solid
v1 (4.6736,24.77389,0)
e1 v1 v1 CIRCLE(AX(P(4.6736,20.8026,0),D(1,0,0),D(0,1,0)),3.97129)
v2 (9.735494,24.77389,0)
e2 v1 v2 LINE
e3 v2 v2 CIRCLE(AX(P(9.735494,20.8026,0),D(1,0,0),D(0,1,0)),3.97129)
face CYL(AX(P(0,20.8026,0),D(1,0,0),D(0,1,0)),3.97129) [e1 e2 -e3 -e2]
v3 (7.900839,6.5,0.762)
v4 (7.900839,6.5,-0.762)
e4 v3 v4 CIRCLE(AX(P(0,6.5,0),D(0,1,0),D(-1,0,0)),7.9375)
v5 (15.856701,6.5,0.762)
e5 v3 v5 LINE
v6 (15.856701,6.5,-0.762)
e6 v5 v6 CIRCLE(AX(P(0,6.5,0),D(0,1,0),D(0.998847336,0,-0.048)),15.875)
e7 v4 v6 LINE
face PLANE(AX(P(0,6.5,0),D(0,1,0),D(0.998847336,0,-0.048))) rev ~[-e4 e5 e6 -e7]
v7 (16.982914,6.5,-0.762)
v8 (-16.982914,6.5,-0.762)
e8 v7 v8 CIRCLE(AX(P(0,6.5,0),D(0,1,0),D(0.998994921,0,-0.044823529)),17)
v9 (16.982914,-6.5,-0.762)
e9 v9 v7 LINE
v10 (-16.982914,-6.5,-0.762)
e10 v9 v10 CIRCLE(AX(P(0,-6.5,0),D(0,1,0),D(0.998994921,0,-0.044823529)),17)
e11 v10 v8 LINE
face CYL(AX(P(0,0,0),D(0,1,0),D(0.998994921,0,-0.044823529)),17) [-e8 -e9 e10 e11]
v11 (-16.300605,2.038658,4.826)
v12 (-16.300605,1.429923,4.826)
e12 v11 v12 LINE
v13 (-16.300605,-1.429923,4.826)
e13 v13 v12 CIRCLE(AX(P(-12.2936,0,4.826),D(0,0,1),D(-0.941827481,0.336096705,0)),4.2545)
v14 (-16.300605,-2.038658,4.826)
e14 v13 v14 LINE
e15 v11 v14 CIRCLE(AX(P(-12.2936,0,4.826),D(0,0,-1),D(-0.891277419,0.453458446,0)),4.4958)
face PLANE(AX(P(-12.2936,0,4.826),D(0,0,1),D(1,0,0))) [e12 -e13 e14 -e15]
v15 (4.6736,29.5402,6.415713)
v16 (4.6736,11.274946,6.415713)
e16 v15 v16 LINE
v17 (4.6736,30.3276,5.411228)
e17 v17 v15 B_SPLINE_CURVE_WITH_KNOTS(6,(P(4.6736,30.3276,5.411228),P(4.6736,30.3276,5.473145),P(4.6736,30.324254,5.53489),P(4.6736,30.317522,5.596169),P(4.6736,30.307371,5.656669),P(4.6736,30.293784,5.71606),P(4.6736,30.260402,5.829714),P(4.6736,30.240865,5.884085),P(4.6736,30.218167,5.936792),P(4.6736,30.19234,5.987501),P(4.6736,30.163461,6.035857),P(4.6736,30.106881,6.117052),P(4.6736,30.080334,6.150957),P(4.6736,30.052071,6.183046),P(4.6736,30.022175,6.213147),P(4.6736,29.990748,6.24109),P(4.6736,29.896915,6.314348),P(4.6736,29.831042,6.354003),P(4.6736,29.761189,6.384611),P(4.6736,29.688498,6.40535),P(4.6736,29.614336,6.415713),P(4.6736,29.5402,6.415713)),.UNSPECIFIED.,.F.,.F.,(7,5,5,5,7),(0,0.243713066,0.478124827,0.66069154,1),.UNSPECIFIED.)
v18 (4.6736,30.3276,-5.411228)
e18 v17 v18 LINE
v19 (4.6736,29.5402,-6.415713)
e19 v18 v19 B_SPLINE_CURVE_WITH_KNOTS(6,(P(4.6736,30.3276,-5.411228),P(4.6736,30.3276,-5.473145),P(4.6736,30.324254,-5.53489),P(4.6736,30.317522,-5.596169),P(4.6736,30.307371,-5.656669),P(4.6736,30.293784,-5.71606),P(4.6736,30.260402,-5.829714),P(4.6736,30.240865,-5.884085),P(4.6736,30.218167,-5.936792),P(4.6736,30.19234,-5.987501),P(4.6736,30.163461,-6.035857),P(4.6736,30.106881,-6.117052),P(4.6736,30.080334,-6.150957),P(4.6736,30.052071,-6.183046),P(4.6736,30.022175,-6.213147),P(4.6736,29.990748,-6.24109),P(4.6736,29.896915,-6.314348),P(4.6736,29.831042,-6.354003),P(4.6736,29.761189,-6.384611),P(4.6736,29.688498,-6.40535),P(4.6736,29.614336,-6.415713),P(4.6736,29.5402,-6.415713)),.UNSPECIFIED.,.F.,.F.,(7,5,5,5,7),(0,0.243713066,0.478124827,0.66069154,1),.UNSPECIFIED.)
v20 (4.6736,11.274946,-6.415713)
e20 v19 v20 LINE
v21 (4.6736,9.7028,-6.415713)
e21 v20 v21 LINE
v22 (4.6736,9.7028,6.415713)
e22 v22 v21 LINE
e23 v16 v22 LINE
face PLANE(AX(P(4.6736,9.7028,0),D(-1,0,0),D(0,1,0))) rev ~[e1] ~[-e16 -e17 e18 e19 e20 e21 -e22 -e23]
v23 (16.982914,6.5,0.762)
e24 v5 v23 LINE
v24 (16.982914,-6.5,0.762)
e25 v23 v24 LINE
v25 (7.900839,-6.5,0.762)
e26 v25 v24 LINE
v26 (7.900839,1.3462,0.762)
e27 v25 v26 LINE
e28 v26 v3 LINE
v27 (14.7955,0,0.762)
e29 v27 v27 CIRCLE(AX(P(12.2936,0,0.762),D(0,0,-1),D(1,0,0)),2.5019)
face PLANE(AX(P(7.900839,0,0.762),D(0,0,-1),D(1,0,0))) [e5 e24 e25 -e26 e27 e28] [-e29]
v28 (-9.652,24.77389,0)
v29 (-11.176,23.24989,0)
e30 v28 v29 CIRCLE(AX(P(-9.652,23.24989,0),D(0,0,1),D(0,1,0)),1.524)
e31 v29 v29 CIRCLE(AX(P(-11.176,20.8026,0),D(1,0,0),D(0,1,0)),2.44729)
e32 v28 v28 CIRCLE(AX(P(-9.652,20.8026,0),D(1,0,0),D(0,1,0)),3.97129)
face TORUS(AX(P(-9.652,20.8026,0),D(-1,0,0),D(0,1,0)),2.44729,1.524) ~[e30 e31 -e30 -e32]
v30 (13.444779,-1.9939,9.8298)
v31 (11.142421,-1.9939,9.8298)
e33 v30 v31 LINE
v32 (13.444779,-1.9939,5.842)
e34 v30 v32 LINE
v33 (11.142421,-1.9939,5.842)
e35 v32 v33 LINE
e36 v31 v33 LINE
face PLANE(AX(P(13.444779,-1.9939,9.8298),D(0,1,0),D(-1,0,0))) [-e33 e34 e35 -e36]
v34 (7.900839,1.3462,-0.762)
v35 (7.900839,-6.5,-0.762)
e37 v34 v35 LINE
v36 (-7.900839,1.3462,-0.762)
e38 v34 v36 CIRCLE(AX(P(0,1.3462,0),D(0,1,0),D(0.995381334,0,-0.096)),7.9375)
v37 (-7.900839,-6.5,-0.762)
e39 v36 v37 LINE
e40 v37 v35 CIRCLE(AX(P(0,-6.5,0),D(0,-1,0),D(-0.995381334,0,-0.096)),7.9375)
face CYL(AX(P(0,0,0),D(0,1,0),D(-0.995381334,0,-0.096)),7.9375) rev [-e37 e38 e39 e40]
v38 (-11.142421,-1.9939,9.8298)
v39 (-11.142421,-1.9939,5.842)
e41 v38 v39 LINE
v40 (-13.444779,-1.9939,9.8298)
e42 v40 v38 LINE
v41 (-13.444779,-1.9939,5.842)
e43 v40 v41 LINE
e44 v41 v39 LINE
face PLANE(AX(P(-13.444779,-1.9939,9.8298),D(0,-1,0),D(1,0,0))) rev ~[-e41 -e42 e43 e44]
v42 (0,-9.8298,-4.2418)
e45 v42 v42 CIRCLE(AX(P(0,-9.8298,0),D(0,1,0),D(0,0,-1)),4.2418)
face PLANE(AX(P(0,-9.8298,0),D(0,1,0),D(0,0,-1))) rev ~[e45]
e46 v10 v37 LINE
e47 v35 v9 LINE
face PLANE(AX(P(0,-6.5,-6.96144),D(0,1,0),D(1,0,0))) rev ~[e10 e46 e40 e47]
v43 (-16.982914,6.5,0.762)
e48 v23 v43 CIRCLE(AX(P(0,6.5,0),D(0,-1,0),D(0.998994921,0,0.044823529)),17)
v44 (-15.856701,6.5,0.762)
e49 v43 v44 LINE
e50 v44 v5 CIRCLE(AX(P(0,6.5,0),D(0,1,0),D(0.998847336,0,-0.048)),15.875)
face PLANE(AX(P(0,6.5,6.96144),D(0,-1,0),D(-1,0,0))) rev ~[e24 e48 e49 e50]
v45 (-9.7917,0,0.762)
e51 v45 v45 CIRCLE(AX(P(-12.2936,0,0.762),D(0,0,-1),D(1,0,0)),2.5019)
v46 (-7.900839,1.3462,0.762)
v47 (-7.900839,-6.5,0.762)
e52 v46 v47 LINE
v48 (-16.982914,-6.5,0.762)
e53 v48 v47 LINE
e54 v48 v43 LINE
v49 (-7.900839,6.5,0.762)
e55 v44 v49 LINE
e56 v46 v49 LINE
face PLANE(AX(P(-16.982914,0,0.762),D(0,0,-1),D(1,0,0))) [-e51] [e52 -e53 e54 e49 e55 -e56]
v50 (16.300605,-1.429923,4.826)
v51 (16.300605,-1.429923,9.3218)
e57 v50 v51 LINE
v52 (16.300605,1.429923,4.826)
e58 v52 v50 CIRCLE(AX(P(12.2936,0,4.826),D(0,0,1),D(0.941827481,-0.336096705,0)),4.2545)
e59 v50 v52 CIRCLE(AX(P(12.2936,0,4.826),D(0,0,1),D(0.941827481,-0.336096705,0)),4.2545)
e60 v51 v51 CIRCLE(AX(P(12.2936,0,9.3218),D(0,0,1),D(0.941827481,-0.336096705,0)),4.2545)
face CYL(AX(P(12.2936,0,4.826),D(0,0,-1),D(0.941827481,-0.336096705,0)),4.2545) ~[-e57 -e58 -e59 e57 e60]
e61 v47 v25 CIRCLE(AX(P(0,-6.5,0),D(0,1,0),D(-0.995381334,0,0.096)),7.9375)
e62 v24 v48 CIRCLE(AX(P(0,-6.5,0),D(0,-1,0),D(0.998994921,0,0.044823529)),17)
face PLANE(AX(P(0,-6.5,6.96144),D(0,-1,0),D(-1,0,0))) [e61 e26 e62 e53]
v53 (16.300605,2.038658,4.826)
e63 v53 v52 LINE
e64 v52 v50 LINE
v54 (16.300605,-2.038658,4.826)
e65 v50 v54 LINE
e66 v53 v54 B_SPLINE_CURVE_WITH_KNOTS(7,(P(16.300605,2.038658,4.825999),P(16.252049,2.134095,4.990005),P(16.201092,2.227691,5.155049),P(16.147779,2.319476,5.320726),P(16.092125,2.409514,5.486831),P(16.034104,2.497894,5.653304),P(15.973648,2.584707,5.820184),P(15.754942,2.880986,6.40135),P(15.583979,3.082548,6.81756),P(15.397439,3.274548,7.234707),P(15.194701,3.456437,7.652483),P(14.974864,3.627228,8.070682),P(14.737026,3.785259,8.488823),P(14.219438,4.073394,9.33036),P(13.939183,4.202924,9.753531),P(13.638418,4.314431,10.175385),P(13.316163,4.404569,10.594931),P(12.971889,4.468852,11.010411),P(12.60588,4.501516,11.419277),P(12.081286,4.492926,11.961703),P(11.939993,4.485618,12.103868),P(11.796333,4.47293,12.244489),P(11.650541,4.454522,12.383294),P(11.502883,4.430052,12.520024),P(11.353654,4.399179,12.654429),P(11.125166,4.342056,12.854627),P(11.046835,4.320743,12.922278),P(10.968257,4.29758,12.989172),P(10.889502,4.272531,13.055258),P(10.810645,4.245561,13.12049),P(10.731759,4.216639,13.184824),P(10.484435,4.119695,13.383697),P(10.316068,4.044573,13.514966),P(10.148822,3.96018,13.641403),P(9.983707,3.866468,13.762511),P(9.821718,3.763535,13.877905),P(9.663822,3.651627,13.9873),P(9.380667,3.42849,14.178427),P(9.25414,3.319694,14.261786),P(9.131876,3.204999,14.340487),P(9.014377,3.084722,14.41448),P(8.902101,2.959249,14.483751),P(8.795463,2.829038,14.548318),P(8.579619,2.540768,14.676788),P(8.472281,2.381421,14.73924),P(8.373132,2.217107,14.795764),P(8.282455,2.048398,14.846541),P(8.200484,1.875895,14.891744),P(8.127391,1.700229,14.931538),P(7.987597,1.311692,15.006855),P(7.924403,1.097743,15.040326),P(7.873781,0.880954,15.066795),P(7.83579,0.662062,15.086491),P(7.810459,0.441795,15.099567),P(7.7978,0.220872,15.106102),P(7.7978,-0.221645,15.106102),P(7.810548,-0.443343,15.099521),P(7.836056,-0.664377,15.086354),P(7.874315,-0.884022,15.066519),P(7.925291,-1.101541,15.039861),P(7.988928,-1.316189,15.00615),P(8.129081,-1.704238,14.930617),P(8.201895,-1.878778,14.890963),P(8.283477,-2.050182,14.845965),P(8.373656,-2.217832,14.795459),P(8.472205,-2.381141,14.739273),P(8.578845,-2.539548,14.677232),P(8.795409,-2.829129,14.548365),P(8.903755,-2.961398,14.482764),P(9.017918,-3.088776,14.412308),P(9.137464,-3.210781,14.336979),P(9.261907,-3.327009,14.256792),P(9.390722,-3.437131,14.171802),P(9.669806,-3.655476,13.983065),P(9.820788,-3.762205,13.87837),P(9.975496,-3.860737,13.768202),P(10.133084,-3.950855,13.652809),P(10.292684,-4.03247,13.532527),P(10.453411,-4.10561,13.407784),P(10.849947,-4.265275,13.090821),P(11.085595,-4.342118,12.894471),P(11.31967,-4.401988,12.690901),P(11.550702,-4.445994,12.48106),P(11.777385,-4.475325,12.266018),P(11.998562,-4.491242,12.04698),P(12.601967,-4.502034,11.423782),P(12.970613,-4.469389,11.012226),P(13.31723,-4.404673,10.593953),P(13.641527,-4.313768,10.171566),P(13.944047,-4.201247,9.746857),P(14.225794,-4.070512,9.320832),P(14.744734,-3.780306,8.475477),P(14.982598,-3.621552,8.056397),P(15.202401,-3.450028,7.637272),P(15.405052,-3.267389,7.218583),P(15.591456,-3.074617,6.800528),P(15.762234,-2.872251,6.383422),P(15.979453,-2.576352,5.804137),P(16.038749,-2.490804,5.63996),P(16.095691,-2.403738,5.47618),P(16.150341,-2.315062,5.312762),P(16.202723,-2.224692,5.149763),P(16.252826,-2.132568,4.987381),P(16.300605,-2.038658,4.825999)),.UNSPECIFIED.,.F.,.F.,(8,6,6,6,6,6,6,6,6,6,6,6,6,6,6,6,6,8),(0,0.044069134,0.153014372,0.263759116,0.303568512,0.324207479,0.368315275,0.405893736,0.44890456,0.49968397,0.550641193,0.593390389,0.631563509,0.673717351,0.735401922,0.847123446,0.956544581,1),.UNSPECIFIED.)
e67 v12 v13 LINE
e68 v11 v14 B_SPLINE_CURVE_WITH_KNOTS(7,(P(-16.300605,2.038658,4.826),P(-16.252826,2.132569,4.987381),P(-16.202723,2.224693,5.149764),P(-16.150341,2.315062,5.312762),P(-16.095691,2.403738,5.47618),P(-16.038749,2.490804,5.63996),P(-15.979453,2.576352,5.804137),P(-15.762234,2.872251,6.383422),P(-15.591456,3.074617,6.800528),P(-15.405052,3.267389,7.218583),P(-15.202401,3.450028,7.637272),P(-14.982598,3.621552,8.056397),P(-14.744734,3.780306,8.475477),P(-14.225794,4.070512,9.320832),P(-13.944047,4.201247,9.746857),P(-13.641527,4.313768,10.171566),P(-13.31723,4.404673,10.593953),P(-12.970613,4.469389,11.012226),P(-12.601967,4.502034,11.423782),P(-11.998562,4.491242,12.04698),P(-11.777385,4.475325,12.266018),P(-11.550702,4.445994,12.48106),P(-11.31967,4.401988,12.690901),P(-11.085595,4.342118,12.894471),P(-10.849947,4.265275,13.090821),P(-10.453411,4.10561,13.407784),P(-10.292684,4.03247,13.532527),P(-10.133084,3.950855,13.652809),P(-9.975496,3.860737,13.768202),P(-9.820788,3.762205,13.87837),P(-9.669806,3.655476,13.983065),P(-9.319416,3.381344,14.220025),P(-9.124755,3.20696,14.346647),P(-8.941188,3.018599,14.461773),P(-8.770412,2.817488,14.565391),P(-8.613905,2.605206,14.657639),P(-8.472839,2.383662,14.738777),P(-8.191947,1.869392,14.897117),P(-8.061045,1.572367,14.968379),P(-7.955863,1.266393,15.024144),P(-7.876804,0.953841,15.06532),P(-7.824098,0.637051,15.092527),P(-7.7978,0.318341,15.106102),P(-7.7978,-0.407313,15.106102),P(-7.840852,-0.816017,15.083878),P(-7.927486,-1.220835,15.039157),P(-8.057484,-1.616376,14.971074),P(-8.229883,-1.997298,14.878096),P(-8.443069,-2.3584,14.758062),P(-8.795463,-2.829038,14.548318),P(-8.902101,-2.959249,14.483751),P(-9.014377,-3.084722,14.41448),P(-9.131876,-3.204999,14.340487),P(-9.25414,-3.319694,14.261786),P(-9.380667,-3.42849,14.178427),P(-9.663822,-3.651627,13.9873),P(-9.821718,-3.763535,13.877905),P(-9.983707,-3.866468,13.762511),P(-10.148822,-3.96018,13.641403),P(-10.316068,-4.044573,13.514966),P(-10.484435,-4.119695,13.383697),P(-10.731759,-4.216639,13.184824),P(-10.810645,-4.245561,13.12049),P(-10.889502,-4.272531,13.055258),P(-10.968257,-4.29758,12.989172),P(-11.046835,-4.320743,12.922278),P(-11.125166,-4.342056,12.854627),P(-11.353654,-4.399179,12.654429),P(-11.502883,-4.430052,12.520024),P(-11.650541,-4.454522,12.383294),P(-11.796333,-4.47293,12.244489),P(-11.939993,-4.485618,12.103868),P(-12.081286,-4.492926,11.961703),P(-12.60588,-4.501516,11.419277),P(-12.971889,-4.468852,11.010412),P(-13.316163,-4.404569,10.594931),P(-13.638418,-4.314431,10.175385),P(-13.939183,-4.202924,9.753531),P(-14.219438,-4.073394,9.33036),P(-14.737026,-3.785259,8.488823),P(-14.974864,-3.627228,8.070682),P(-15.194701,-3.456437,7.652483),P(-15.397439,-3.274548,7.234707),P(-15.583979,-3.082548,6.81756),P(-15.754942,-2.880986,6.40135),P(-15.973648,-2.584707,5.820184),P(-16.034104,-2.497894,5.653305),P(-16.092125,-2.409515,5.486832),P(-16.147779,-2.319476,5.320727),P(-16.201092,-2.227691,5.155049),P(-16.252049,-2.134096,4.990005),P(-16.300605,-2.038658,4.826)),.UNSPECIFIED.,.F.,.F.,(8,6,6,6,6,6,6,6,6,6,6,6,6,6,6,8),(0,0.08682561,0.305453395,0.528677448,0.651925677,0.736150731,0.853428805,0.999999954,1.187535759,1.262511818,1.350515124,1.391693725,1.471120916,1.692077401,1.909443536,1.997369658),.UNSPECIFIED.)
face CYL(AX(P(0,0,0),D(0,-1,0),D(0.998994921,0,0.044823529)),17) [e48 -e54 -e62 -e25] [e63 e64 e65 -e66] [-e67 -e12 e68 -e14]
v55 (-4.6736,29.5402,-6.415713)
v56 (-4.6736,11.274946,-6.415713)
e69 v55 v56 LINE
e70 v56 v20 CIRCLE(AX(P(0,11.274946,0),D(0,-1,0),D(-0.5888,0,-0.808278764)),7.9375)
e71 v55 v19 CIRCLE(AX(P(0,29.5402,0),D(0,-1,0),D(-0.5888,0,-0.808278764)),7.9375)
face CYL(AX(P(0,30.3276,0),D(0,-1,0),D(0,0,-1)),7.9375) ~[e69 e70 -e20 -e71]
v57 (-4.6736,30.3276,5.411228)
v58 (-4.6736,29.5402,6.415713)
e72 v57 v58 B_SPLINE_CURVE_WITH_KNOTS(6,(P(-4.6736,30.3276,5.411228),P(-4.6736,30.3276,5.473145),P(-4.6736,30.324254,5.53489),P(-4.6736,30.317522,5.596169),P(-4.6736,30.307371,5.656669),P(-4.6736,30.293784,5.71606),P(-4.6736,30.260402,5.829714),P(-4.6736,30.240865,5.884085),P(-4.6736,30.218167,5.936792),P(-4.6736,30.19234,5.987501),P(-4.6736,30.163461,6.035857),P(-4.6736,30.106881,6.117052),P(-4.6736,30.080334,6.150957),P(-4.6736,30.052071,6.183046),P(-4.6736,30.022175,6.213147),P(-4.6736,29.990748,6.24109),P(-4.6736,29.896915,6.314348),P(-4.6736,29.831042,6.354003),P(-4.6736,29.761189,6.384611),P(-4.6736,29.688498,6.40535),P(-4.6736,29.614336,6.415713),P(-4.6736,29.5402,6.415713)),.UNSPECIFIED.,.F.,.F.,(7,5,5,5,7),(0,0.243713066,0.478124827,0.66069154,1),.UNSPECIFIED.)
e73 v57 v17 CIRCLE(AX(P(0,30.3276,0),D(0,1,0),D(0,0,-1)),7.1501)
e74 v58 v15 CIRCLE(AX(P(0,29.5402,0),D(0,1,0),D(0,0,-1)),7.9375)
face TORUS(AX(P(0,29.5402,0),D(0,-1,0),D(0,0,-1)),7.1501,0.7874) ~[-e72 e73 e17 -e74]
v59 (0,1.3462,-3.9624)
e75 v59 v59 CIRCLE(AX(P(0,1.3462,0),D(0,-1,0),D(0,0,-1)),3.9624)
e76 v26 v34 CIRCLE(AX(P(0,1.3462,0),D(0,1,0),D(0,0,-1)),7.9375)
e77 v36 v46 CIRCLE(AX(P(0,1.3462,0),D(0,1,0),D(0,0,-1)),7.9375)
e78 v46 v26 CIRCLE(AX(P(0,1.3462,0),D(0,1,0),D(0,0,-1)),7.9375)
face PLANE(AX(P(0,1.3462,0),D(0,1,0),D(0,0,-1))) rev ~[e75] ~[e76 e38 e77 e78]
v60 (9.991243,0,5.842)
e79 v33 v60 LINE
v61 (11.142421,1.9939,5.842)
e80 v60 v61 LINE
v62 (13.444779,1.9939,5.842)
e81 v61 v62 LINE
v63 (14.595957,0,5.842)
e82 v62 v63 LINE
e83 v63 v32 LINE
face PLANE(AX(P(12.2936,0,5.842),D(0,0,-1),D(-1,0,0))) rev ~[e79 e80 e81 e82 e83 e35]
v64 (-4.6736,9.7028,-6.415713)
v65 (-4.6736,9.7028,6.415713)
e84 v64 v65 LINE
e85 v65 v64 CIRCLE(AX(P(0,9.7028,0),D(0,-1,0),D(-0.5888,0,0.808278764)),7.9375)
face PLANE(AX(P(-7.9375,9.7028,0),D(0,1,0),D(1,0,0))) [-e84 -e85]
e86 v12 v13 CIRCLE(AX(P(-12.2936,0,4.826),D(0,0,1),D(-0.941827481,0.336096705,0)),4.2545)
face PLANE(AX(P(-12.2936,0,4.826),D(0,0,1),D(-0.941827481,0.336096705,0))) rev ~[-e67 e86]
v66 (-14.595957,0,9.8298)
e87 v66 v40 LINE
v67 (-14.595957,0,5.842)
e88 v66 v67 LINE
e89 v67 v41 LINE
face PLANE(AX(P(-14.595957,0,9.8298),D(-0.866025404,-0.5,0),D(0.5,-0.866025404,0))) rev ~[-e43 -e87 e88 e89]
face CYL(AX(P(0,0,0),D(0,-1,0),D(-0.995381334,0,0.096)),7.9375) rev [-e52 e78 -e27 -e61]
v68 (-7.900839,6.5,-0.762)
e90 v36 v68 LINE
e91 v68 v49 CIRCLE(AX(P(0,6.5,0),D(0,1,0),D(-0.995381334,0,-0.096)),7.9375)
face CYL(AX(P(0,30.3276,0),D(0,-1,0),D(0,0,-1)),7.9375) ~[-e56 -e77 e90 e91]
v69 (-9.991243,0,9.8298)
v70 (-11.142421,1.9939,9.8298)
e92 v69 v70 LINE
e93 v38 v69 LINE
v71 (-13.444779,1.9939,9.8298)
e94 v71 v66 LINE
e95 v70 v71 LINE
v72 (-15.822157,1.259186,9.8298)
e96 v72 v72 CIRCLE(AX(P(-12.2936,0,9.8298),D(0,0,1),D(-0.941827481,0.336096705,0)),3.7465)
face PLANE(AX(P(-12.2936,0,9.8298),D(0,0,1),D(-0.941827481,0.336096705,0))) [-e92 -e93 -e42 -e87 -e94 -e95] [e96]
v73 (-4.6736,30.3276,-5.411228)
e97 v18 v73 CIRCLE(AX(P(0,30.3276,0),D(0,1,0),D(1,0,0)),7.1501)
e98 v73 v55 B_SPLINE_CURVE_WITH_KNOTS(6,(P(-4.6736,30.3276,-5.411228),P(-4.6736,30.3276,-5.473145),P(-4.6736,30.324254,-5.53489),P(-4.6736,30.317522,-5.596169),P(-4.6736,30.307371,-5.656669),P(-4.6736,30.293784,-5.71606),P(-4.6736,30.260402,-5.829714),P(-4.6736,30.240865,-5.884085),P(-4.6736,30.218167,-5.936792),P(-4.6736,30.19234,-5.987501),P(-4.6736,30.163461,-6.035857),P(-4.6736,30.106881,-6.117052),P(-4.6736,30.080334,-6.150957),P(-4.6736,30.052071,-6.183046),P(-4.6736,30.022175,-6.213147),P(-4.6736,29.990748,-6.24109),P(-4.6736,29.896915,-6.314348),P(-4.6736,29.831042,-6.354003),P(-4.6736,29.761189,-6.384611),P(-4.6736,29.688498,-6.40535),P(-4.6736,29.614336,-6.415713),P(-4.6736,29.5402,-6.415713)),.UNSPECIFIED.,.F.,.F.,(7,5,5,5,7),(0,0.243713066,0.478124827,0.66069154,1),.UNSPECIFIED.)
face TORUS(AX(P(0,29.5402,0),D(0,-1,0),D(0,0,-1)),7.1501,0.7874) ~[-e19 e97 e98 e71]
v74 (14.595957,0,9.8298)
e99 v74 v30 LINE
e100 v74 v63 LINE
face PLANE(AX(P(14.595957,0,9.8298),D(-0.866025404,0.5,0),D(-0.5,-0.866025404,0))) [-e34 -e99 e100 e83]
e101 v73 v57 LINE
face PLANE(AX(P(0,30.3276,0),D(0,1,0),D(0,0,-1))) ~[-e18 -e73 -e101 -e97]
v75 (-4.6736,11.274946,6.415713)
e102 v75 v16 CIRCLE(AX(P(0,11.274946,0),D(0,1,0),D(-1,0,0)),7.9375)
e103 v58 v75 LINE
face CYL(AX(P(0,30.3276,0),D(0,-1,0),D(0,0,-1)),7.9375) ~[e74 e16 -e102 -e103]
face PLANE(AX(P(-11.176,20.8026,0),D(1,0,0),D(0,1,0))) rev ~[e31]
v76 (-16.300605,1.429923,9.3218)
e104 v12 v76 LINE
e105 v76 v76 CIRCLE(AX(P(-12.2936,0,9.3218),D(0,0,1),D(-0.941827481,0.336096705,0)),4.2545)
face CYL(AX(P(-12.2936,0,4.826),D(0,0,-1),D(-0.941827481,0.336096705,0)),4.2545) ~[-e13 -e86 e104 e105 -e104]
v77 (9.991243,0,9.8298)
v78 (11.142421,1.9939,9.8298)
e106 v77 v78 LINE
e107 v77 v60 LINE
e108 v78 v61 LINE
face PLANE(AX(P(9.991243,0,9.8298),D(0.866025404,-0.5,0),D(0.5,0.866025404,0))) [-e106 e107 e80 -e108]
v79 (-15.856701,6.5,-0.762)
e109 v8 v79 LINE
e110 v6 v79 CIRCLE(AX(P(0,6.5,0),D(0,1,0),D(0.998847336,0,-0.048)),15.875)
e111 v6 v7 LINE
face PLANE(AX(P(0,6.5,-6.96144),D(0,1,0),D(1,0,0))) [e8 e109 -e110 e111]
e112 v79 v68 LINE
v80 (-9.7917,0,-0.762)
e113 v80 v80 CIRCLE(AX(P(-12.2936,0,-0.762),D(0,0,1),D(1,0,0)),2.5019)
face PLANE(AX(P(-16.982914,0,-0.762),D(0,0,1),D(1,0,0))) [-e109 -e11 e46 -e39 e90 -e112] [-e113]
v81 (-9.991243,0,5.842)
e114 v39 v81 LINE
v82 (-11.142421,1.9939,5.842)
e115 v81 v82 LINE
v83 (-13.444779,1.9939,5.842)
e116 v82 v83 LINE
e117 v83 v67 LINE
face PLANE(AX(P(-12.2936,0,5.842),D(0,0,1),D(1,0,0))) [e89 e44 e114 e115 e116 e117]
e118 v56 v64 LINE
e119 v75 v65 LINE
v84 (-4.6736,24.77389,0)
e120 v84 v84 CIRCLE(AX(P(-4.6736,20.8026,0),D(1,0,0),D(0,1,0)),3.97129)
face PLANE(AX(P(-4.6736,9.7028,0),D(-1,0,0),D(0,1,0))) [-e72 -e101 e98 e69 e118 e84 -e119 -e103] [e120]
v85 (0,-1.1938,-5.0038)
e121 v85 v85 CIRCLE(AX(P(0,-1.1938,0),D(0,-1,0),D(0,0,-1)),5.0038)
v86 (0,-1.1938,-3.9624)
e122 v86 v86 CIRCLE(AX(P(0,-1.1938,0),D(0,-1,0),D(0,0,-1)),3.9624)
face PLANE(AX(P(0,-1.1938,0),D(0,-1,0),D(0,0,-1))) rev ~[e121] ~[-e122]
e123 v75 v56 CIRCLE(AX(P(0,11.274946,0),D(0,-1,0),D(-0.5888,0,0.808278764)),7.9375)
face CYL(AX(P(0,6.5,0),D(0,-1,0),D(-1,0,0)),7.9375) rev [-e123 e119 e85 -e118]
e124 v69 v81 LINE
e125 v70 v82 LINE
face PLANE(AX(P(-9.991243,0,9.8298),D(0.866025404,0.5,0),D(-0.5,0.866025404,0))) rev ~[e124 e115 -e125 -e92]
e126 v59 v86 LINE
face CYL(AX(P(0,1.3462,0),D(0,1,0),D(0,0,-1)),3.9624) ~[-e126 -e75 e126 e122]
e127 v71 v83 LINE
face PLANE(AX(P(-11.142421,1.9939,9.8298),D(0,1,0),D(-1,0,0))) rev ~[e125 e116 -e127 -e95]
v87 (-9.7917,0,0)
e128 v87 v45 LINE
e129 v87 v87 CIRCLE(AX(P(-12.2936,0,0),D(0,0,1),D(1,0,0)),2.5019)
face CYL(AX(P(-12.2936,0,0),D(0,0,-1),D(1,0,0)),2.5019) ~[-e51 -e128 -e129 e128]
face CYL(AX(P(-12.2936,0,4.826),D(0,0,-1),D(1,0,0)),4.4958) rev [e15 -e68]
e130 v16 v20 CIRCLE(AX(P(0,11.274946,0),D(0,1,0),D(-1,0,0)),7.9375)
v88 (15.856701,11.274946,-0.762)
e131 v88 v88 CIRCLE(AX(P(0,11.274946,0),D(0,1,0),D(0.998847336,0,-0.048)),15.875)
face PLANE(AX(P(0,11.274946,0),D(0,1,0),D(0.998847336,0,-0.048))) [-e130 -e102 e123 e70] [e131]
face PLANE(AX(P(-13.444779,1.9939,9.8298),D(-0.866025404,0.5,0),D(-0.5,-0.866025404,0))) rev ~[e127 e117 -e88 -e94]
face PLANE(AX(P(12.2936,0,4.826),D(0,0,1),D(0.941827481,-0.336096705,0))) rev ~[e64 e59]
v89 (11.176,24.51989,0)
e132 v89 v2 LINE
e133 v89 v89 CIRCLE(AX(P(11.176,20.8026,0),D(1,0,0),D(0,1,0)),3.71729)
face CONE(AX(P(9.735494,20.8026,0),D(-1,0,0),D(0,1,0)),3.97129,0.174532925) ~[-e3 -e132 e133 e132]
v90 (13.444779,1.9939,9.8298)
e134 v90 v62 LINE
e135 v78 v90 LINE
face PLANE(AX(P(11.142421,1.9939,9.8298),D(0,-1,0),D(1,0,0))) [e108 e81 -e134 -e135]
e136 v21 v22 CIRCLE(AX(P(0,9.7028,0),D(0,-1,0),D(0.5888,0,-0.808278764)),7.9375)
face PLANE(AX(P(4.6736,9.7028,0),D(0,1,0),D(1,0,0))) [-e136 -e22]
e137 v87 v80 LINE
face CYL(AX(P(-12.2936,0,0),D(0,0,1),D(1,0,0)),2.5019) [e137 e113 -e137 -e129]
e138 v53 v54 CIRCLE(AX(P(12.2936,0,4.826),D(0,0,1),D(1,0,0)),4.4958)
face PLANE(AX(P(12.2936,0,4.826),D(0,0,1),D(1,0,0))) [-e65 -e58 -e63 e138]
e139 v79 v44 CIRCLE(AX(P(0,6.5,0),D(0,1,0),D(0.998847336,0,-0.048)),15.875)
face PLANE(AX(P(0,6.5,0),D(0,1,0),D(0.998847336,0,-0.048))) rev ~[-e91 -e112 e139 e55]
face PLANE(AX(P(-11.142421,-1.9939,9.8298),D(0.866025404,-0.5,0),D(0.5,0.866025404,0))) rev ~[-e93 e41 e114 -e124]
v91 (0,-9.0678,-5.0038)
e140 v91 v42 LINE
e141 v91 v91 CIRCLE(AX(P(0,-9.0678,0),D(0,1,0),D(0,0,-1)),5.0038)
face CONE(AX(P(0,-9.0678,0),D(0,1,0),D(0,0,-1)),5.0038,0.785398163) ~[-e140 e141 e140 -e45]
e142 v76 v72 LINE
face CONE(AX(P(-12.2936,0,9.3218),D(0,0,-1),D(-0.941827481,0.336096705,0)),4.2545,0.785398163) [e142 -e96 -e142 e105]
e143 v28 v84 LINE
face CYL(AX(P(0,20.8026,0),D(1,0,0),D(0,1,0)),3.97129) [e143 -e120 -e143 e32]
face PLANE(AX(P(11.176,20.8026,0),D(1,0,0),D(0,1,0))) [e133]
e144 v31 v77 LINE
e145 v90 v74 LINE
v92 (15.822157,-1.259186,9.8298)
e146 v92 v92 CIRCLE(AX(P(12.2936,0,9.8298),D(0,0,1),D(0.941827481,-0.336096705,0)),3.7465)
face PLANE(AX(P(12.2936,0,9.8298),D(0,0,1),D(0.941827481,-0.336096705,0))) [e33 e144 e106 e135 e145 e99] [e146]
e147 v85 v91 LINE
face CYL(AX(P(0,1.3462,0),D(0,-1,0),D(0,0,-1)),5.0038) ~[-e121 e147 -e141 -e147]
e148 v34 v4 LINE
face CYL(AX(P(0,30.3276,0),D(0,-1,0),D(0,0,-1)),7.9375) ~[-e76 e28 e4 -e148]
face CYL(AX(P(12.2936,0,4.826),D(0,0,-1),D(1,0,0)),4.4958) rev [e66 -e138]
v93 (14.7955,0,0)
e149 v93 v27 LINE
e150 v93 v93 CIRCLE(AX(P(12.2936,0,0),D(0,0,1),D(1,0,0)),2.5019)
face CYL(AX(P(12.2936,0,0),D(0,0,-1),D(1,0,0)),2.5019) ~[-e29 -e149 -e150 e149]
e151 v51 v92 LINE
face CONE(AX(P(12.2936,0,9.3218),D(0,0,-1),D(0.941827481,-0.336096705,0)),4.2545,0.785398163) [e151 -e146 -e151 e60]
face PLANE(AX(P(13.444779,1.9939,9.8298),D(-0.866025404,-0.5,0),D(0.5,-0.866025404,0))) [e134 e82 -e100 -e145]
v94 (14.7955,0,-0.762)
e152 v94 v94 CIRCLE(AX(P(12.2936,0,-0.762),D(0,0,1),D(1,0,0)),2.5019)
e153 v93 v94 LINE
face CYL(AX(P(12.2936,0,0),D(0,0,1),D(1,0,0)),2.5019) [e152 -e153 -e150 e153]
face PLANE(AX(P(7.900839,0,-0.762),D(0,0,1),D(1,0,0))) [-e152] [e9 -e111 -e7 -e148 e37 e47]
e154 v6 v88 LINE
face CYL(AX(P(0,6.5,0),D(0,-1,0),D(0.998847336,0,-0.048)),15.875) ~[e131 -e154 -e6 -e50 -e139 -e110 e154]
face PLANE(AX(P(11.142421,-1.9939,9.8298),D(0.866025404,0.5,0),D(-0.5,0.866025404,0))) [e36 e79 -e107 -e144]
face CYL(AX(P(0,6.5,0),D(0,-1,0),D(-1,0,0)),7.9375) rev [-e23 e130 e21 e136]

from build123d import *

# Parameters (mm, degrees)
FILLET1_R                  = 0.7874
SKETCH2_W                  = 3.2639
SKETCH2_H                  = 20.6248
CUT_EXTRUDE1_DEPTH         = 8.9375
CUT_EXTRUDE1_DEPTH_BACK    = 8.9375
SKETCH3_R                  = 5.0038
SKETCH3_R_2                = 3.9624
CUT_EXTRUDE2_DEPTH         = 2.54
CHAMFER1_SIZE              = 0.762
SKETCH4_R                  = 3.97129
EXTRUDE1_DEPTH             = 11.176
CHAMFER2_SIZE              = 0.254
CHAMFER2_SIZE2             = 1.440505582
FILLET2_R                  = 1.524
EXTRUDE2_DEPTH             = 6.5
EXTRUDE2_DEPTH_BACK        = 6.5
CUT_EXTRUDE3_START         = 4.064
SKETCH6_R                  = 4.4958
CUT_EXTRUDE3_DEPTH         = 13.174
SKETCH7_R                  = 4.2545
EXTRUDE3_DEPTH             = 5.0038
CHAMFER3_SIZE              = 0.508
CUT_EXTRUDE4_DEPTH         = 3.9878
EXTRUDE4_REACH             = 19
SKETCH10_R                 = 2.5019
EXTRUDE4_DIRECTION_2_REACH = 19
SKETCH11_R                 = 15.875
SKETCH11_R_2               = 7.9375
EXTRUDE5_DEPTH             = 4.774946


with BuildPart() as part:
    # Sketch1 → Revolve1 (revolve)
    with BuildSketch(Plane(origin=(0, 0, 0), x_dir=(0, 0, -1), z_dir=(1, 0, 0))):
        Polygon((0, 30.3276), (7.9375, 30.3276), (7.9375, 1.3462), (5.0038, 1.3462), (5.0038, -9.8298), (0, -9.8298), align=None)
    revolve(axis=Axis((0, -15.35938, 0), (0, 1, 0)))

    # Fillet1
    fillet1_edges = [part.edges().sort_by_distance(p)[0] for p in [
        (0, 30.3276, 7.9375),
    ]]
    fillet(fillet1_edges, radius=FILLET1_R)

    # Sketch2 → Cut-Extrude1 (cut, two sides)
    with BuildSketch(Plane.XY) as cut_extrude1_sk:
        with Locations((6.30555, 20.0152)):
            Rectangle(SKETCH2_W, SKETCH2_H)
        with Locations((-6.30555, 20.0152)):
            Rectangle(SKETCH2_W, SKETCH2_H)
    extrude(amount=CUT_EXTRUDE1_DEPTH, mode=Mode.SUBTRACT)
    extrude(cut_extrude1_sk.sketch, amount=-CUT_EXTRUDE1_DEPTH_BACK, mode=Mode.SUBTRACT)

    # Sketch3 → Cut-Extrude2 (cut)
    with BuildSketch(Plane.XZ.offset(-1.3462)):
        with Locations(Location((0, 0, 0), (0, 0, 270))):  # turned: the seam where the file's is
            Circle(SKETCH3_R)
        with Locations(Location((0, 0, 0), (0, 0, 270))):  # turned: the seam where the file's is
            Circle(SKETCH3_R_2, mode=Mode.SUBTRACT)
    extrude(amount=CUT_EXTRUDE2_DEPTH, mode=Mode.SUBTRACT)

    # Chamfer1
    chamfer1_edges = [part.edges().sort_by_distance(p)[0] for p in [
        (0, -9.8298, 5.0038),
    ]]
    chamfer(chamfer1_edges, length=CHAMFER1_SIZE)

    # Sketch4 → Extrude1 (add, symmetric)
    with BuildSketch(Plane(origin=(0, 0, 0), x_dir=(0, 0, -1), z_dir=(1, 0, 0))):
        with Locations(Location((0, 20.8026, 0), (0, 0, 90))):  # turned: the seam where the file's is
            Circle(SKETCH4_R)
    extrude(amount=EXTRUDE1_DEPTH, both=True)

    # Chamfer2
    chamfer2_edges = [part.edges().sort_by_distance(p)[0] for p in [
        (11.176, 16.83131, 0),
    ]]
    chamfer2_side = [part.faces().sort_by_distance(p)[0] for p in [
        (11.176, 20.8026, 0),
    ]]
    chamfer(chamfer2_edges, length=CHAMFER2_SIZE, length2=CHAMFER2_SIZE2, reference=chamfer2_side[0])

    # Fillet2
    fillet2_edges = [part.edges().sort_by_distance(p)[0] for p in [
        (-11.176, 16.83131, 0),
    ]]
    fillet(fillet2_edges, radius=FILLET2_R)

    # Sketch5 → Extrude2 (add, two sides)
    with BuildSketch(Plane(origin=(0, 0, 0), x_dir=(1, 0, 0), z_dir=(0, 1, 0))) as extrude2_sk:
        with BuildLine():
            Line((7.900839338, 0.762), (16.982913649, 0.762))
            ThreePointArc((16.982913649, 0.762), (0, 17), (-16.982913649, 0.762))
            Line((-16.982913649, 0.762), (-7.900839338, 0.762))
            ThreePointArc((-7.900839338, 0.762), (0, 7.9375), (7.900839338, 0.762))
        make_face()
        with BuildLine():
            Line((7.900839338, -0.762), (16.982913649, -0.762))
            ThreePointArc((16.982913649, -0.762), (0, -17), (-16.982913649, -0.762))
            Line((-16.982913649, -0.762), (-7.900839338, -0.762))
            ThreePointArc((-7.900839338, -0.762), (0, -7.9375), (7.900839338, -0.762))
        make_face()
    extrude(amount=EXTRUDE2_DEPTH)
    extrude(extrude2_sk.sketch, amount=-EXTRUDE2_DEPTH_BACK)

    # Sketch6 → Cut-Extrude3 (cut, through all)
    with BuildSketch(Plane.XY.offset(0.762).offset(CUT_EXTRUDE3_START)):
        with Locations((12.2936, 0)):
            Circle(SKETCH6_R)
        with Locations((-12.2936, 0)):
            Circle(SKETCH6_R)
    extrude(amount=CUT_EXTRUDE3_DEPTH, mode=Mode.SUBTRACT)

    # Sketch7 → Extrude3 (add)
    with BuildSketch(Plane.XY.offset(4.826)):
        with Locations(Location((12.2936, 0, 0), (0, 0, 340.36075817))):  # turned: the seam where the file's is
            Circle(SKETCH7_R)
        with Locations(Location((-12.2936, 0, 0), (0, 0, 160.36075817))):  # turned: the seam where the file's is
            Circle(SKETCH7_R)
    extrude(amount=EXTRUDE3_DEPTH)

    # Chamfer3
    chamfer3_edges = [part.edges().sort_by_distance(p)[0] for p in [
        (8.286594981, 1.429923433, 9.8298),
        (-8.286594981, -1.429923433, 9.8298),
    ]]
    chamfer(chamfer3_edges, length=CHAMFER3_SIZE)

    # Sketch8 → Cut-Extrude4 (cut)
    with BuildSketch(Plane.XY.offset(9.8298)):
        Polygon((13.444778702, 1.9939), (14.595957403, 0), (13.444778702, -1.9939), (11.142421298, -1.9939), (9.991242597, 0), (11.142421298, 1.9939), align=None)
        Polygon((-14.595957403, 0), (-13.444778702, -1.9939), (-11.142421298, -1.9939), (-9.991242597, 0), (-11.142421298, 1.9939), (-13.444778702, 1.9939), align=None)
    extrude(amount=-CUT_EXTRUDE4_DEPTH, mode=Mode.SUBTRACT)

    # Sketch10 → Extrude4 (add, up to next)
    with BuildSketch(Plane.XY, mode=Mode.PRIVATE) as extrude4_sk1:
        with Locations((12.2936, 0)):
            Circle(SKETCH10_R)
    extrude4_tool1 = extrude(extrude4_sk1.sketch, amount=EXTRUDE4_REACH, mode=Mode.PRIVATE) - part.part
    add(extrude4_tool1.solids().sort_by_distance((12.2936, 0, 0))[0])
    # Sketch10 → Extrude4 (add, up to next)
    with BuildSketch(Plane.XY, mode=Mode.PRIVATE) as extrude4_sk2:
        with Locations((-12.2936, 0)):
            Circle(SKETCH10_R)
    extrude4_tool2 = extrude(extrude4_sk2.sketch, amount=EXTRUDE4_REACH, mode=Mode.PRIVATE) - part.part
    add(extrude4_tool2.solids().sort_by_distance((-12.2936, 0, 0))[0])

    # Sketch10 → Extrude4 direction 2 (add, up to next)
    with BuildSketch(Plane.XY, mode=Mode.PRIVATE) as extrude4_direction_2_sk1:
        with Locations((12.2936, 0)):
            Circle(SKETCH10_R)
    extrude4_direction_2_tool1 = extrude(extrude4_direction_2_sk1.sketch, amount=-EXTRUDE4_DIRECTION_2_REACH, mode=Mode.PRIVATE) - part.part
    add(extrude4_direction_2_tool1.solids().sort_by_distance((12.2936, 0, 0))[0])
    # Sketch10 → Extrude4 direction 2 (add, up to next)
    with BuildSketch(Plane.XY, mode=Mode.PRIVATE) as extrude4_direction_2_sk2:
        with Locations((-12.2936, 0)):
            Circle(SKETCH10_R)
    extrude4_direction_2_tool2 = extrude(extrude4_direction_2_sk2.sketch, amount=-EXTRUDE4_DIRECTION_2_REACH, mode=Mode.PRIVATE) - part.part
    add(extrude4_direction_2_tool2.solids().sort_by_distance((-12.2936, 0, 0))[0])

    # Sketch11 → Extrude5 (add)
    with BuildSketch(Plane(origin=(0, 6.5, 0), x_dir=(-1, 0, 0), z_dir=(0, 1, 0))):
        with Locations(Location((0, 0, 0), (0, 0, 182.751254589))):  # turned: the seam where the file's is
            Circle(SKETCH11_R)
        Circle(SKETCH11_R_2, mode=Mode.SUBTRACT)
    extrude(amount=EXTRUDE5_DEPTH)


solid = part.part
